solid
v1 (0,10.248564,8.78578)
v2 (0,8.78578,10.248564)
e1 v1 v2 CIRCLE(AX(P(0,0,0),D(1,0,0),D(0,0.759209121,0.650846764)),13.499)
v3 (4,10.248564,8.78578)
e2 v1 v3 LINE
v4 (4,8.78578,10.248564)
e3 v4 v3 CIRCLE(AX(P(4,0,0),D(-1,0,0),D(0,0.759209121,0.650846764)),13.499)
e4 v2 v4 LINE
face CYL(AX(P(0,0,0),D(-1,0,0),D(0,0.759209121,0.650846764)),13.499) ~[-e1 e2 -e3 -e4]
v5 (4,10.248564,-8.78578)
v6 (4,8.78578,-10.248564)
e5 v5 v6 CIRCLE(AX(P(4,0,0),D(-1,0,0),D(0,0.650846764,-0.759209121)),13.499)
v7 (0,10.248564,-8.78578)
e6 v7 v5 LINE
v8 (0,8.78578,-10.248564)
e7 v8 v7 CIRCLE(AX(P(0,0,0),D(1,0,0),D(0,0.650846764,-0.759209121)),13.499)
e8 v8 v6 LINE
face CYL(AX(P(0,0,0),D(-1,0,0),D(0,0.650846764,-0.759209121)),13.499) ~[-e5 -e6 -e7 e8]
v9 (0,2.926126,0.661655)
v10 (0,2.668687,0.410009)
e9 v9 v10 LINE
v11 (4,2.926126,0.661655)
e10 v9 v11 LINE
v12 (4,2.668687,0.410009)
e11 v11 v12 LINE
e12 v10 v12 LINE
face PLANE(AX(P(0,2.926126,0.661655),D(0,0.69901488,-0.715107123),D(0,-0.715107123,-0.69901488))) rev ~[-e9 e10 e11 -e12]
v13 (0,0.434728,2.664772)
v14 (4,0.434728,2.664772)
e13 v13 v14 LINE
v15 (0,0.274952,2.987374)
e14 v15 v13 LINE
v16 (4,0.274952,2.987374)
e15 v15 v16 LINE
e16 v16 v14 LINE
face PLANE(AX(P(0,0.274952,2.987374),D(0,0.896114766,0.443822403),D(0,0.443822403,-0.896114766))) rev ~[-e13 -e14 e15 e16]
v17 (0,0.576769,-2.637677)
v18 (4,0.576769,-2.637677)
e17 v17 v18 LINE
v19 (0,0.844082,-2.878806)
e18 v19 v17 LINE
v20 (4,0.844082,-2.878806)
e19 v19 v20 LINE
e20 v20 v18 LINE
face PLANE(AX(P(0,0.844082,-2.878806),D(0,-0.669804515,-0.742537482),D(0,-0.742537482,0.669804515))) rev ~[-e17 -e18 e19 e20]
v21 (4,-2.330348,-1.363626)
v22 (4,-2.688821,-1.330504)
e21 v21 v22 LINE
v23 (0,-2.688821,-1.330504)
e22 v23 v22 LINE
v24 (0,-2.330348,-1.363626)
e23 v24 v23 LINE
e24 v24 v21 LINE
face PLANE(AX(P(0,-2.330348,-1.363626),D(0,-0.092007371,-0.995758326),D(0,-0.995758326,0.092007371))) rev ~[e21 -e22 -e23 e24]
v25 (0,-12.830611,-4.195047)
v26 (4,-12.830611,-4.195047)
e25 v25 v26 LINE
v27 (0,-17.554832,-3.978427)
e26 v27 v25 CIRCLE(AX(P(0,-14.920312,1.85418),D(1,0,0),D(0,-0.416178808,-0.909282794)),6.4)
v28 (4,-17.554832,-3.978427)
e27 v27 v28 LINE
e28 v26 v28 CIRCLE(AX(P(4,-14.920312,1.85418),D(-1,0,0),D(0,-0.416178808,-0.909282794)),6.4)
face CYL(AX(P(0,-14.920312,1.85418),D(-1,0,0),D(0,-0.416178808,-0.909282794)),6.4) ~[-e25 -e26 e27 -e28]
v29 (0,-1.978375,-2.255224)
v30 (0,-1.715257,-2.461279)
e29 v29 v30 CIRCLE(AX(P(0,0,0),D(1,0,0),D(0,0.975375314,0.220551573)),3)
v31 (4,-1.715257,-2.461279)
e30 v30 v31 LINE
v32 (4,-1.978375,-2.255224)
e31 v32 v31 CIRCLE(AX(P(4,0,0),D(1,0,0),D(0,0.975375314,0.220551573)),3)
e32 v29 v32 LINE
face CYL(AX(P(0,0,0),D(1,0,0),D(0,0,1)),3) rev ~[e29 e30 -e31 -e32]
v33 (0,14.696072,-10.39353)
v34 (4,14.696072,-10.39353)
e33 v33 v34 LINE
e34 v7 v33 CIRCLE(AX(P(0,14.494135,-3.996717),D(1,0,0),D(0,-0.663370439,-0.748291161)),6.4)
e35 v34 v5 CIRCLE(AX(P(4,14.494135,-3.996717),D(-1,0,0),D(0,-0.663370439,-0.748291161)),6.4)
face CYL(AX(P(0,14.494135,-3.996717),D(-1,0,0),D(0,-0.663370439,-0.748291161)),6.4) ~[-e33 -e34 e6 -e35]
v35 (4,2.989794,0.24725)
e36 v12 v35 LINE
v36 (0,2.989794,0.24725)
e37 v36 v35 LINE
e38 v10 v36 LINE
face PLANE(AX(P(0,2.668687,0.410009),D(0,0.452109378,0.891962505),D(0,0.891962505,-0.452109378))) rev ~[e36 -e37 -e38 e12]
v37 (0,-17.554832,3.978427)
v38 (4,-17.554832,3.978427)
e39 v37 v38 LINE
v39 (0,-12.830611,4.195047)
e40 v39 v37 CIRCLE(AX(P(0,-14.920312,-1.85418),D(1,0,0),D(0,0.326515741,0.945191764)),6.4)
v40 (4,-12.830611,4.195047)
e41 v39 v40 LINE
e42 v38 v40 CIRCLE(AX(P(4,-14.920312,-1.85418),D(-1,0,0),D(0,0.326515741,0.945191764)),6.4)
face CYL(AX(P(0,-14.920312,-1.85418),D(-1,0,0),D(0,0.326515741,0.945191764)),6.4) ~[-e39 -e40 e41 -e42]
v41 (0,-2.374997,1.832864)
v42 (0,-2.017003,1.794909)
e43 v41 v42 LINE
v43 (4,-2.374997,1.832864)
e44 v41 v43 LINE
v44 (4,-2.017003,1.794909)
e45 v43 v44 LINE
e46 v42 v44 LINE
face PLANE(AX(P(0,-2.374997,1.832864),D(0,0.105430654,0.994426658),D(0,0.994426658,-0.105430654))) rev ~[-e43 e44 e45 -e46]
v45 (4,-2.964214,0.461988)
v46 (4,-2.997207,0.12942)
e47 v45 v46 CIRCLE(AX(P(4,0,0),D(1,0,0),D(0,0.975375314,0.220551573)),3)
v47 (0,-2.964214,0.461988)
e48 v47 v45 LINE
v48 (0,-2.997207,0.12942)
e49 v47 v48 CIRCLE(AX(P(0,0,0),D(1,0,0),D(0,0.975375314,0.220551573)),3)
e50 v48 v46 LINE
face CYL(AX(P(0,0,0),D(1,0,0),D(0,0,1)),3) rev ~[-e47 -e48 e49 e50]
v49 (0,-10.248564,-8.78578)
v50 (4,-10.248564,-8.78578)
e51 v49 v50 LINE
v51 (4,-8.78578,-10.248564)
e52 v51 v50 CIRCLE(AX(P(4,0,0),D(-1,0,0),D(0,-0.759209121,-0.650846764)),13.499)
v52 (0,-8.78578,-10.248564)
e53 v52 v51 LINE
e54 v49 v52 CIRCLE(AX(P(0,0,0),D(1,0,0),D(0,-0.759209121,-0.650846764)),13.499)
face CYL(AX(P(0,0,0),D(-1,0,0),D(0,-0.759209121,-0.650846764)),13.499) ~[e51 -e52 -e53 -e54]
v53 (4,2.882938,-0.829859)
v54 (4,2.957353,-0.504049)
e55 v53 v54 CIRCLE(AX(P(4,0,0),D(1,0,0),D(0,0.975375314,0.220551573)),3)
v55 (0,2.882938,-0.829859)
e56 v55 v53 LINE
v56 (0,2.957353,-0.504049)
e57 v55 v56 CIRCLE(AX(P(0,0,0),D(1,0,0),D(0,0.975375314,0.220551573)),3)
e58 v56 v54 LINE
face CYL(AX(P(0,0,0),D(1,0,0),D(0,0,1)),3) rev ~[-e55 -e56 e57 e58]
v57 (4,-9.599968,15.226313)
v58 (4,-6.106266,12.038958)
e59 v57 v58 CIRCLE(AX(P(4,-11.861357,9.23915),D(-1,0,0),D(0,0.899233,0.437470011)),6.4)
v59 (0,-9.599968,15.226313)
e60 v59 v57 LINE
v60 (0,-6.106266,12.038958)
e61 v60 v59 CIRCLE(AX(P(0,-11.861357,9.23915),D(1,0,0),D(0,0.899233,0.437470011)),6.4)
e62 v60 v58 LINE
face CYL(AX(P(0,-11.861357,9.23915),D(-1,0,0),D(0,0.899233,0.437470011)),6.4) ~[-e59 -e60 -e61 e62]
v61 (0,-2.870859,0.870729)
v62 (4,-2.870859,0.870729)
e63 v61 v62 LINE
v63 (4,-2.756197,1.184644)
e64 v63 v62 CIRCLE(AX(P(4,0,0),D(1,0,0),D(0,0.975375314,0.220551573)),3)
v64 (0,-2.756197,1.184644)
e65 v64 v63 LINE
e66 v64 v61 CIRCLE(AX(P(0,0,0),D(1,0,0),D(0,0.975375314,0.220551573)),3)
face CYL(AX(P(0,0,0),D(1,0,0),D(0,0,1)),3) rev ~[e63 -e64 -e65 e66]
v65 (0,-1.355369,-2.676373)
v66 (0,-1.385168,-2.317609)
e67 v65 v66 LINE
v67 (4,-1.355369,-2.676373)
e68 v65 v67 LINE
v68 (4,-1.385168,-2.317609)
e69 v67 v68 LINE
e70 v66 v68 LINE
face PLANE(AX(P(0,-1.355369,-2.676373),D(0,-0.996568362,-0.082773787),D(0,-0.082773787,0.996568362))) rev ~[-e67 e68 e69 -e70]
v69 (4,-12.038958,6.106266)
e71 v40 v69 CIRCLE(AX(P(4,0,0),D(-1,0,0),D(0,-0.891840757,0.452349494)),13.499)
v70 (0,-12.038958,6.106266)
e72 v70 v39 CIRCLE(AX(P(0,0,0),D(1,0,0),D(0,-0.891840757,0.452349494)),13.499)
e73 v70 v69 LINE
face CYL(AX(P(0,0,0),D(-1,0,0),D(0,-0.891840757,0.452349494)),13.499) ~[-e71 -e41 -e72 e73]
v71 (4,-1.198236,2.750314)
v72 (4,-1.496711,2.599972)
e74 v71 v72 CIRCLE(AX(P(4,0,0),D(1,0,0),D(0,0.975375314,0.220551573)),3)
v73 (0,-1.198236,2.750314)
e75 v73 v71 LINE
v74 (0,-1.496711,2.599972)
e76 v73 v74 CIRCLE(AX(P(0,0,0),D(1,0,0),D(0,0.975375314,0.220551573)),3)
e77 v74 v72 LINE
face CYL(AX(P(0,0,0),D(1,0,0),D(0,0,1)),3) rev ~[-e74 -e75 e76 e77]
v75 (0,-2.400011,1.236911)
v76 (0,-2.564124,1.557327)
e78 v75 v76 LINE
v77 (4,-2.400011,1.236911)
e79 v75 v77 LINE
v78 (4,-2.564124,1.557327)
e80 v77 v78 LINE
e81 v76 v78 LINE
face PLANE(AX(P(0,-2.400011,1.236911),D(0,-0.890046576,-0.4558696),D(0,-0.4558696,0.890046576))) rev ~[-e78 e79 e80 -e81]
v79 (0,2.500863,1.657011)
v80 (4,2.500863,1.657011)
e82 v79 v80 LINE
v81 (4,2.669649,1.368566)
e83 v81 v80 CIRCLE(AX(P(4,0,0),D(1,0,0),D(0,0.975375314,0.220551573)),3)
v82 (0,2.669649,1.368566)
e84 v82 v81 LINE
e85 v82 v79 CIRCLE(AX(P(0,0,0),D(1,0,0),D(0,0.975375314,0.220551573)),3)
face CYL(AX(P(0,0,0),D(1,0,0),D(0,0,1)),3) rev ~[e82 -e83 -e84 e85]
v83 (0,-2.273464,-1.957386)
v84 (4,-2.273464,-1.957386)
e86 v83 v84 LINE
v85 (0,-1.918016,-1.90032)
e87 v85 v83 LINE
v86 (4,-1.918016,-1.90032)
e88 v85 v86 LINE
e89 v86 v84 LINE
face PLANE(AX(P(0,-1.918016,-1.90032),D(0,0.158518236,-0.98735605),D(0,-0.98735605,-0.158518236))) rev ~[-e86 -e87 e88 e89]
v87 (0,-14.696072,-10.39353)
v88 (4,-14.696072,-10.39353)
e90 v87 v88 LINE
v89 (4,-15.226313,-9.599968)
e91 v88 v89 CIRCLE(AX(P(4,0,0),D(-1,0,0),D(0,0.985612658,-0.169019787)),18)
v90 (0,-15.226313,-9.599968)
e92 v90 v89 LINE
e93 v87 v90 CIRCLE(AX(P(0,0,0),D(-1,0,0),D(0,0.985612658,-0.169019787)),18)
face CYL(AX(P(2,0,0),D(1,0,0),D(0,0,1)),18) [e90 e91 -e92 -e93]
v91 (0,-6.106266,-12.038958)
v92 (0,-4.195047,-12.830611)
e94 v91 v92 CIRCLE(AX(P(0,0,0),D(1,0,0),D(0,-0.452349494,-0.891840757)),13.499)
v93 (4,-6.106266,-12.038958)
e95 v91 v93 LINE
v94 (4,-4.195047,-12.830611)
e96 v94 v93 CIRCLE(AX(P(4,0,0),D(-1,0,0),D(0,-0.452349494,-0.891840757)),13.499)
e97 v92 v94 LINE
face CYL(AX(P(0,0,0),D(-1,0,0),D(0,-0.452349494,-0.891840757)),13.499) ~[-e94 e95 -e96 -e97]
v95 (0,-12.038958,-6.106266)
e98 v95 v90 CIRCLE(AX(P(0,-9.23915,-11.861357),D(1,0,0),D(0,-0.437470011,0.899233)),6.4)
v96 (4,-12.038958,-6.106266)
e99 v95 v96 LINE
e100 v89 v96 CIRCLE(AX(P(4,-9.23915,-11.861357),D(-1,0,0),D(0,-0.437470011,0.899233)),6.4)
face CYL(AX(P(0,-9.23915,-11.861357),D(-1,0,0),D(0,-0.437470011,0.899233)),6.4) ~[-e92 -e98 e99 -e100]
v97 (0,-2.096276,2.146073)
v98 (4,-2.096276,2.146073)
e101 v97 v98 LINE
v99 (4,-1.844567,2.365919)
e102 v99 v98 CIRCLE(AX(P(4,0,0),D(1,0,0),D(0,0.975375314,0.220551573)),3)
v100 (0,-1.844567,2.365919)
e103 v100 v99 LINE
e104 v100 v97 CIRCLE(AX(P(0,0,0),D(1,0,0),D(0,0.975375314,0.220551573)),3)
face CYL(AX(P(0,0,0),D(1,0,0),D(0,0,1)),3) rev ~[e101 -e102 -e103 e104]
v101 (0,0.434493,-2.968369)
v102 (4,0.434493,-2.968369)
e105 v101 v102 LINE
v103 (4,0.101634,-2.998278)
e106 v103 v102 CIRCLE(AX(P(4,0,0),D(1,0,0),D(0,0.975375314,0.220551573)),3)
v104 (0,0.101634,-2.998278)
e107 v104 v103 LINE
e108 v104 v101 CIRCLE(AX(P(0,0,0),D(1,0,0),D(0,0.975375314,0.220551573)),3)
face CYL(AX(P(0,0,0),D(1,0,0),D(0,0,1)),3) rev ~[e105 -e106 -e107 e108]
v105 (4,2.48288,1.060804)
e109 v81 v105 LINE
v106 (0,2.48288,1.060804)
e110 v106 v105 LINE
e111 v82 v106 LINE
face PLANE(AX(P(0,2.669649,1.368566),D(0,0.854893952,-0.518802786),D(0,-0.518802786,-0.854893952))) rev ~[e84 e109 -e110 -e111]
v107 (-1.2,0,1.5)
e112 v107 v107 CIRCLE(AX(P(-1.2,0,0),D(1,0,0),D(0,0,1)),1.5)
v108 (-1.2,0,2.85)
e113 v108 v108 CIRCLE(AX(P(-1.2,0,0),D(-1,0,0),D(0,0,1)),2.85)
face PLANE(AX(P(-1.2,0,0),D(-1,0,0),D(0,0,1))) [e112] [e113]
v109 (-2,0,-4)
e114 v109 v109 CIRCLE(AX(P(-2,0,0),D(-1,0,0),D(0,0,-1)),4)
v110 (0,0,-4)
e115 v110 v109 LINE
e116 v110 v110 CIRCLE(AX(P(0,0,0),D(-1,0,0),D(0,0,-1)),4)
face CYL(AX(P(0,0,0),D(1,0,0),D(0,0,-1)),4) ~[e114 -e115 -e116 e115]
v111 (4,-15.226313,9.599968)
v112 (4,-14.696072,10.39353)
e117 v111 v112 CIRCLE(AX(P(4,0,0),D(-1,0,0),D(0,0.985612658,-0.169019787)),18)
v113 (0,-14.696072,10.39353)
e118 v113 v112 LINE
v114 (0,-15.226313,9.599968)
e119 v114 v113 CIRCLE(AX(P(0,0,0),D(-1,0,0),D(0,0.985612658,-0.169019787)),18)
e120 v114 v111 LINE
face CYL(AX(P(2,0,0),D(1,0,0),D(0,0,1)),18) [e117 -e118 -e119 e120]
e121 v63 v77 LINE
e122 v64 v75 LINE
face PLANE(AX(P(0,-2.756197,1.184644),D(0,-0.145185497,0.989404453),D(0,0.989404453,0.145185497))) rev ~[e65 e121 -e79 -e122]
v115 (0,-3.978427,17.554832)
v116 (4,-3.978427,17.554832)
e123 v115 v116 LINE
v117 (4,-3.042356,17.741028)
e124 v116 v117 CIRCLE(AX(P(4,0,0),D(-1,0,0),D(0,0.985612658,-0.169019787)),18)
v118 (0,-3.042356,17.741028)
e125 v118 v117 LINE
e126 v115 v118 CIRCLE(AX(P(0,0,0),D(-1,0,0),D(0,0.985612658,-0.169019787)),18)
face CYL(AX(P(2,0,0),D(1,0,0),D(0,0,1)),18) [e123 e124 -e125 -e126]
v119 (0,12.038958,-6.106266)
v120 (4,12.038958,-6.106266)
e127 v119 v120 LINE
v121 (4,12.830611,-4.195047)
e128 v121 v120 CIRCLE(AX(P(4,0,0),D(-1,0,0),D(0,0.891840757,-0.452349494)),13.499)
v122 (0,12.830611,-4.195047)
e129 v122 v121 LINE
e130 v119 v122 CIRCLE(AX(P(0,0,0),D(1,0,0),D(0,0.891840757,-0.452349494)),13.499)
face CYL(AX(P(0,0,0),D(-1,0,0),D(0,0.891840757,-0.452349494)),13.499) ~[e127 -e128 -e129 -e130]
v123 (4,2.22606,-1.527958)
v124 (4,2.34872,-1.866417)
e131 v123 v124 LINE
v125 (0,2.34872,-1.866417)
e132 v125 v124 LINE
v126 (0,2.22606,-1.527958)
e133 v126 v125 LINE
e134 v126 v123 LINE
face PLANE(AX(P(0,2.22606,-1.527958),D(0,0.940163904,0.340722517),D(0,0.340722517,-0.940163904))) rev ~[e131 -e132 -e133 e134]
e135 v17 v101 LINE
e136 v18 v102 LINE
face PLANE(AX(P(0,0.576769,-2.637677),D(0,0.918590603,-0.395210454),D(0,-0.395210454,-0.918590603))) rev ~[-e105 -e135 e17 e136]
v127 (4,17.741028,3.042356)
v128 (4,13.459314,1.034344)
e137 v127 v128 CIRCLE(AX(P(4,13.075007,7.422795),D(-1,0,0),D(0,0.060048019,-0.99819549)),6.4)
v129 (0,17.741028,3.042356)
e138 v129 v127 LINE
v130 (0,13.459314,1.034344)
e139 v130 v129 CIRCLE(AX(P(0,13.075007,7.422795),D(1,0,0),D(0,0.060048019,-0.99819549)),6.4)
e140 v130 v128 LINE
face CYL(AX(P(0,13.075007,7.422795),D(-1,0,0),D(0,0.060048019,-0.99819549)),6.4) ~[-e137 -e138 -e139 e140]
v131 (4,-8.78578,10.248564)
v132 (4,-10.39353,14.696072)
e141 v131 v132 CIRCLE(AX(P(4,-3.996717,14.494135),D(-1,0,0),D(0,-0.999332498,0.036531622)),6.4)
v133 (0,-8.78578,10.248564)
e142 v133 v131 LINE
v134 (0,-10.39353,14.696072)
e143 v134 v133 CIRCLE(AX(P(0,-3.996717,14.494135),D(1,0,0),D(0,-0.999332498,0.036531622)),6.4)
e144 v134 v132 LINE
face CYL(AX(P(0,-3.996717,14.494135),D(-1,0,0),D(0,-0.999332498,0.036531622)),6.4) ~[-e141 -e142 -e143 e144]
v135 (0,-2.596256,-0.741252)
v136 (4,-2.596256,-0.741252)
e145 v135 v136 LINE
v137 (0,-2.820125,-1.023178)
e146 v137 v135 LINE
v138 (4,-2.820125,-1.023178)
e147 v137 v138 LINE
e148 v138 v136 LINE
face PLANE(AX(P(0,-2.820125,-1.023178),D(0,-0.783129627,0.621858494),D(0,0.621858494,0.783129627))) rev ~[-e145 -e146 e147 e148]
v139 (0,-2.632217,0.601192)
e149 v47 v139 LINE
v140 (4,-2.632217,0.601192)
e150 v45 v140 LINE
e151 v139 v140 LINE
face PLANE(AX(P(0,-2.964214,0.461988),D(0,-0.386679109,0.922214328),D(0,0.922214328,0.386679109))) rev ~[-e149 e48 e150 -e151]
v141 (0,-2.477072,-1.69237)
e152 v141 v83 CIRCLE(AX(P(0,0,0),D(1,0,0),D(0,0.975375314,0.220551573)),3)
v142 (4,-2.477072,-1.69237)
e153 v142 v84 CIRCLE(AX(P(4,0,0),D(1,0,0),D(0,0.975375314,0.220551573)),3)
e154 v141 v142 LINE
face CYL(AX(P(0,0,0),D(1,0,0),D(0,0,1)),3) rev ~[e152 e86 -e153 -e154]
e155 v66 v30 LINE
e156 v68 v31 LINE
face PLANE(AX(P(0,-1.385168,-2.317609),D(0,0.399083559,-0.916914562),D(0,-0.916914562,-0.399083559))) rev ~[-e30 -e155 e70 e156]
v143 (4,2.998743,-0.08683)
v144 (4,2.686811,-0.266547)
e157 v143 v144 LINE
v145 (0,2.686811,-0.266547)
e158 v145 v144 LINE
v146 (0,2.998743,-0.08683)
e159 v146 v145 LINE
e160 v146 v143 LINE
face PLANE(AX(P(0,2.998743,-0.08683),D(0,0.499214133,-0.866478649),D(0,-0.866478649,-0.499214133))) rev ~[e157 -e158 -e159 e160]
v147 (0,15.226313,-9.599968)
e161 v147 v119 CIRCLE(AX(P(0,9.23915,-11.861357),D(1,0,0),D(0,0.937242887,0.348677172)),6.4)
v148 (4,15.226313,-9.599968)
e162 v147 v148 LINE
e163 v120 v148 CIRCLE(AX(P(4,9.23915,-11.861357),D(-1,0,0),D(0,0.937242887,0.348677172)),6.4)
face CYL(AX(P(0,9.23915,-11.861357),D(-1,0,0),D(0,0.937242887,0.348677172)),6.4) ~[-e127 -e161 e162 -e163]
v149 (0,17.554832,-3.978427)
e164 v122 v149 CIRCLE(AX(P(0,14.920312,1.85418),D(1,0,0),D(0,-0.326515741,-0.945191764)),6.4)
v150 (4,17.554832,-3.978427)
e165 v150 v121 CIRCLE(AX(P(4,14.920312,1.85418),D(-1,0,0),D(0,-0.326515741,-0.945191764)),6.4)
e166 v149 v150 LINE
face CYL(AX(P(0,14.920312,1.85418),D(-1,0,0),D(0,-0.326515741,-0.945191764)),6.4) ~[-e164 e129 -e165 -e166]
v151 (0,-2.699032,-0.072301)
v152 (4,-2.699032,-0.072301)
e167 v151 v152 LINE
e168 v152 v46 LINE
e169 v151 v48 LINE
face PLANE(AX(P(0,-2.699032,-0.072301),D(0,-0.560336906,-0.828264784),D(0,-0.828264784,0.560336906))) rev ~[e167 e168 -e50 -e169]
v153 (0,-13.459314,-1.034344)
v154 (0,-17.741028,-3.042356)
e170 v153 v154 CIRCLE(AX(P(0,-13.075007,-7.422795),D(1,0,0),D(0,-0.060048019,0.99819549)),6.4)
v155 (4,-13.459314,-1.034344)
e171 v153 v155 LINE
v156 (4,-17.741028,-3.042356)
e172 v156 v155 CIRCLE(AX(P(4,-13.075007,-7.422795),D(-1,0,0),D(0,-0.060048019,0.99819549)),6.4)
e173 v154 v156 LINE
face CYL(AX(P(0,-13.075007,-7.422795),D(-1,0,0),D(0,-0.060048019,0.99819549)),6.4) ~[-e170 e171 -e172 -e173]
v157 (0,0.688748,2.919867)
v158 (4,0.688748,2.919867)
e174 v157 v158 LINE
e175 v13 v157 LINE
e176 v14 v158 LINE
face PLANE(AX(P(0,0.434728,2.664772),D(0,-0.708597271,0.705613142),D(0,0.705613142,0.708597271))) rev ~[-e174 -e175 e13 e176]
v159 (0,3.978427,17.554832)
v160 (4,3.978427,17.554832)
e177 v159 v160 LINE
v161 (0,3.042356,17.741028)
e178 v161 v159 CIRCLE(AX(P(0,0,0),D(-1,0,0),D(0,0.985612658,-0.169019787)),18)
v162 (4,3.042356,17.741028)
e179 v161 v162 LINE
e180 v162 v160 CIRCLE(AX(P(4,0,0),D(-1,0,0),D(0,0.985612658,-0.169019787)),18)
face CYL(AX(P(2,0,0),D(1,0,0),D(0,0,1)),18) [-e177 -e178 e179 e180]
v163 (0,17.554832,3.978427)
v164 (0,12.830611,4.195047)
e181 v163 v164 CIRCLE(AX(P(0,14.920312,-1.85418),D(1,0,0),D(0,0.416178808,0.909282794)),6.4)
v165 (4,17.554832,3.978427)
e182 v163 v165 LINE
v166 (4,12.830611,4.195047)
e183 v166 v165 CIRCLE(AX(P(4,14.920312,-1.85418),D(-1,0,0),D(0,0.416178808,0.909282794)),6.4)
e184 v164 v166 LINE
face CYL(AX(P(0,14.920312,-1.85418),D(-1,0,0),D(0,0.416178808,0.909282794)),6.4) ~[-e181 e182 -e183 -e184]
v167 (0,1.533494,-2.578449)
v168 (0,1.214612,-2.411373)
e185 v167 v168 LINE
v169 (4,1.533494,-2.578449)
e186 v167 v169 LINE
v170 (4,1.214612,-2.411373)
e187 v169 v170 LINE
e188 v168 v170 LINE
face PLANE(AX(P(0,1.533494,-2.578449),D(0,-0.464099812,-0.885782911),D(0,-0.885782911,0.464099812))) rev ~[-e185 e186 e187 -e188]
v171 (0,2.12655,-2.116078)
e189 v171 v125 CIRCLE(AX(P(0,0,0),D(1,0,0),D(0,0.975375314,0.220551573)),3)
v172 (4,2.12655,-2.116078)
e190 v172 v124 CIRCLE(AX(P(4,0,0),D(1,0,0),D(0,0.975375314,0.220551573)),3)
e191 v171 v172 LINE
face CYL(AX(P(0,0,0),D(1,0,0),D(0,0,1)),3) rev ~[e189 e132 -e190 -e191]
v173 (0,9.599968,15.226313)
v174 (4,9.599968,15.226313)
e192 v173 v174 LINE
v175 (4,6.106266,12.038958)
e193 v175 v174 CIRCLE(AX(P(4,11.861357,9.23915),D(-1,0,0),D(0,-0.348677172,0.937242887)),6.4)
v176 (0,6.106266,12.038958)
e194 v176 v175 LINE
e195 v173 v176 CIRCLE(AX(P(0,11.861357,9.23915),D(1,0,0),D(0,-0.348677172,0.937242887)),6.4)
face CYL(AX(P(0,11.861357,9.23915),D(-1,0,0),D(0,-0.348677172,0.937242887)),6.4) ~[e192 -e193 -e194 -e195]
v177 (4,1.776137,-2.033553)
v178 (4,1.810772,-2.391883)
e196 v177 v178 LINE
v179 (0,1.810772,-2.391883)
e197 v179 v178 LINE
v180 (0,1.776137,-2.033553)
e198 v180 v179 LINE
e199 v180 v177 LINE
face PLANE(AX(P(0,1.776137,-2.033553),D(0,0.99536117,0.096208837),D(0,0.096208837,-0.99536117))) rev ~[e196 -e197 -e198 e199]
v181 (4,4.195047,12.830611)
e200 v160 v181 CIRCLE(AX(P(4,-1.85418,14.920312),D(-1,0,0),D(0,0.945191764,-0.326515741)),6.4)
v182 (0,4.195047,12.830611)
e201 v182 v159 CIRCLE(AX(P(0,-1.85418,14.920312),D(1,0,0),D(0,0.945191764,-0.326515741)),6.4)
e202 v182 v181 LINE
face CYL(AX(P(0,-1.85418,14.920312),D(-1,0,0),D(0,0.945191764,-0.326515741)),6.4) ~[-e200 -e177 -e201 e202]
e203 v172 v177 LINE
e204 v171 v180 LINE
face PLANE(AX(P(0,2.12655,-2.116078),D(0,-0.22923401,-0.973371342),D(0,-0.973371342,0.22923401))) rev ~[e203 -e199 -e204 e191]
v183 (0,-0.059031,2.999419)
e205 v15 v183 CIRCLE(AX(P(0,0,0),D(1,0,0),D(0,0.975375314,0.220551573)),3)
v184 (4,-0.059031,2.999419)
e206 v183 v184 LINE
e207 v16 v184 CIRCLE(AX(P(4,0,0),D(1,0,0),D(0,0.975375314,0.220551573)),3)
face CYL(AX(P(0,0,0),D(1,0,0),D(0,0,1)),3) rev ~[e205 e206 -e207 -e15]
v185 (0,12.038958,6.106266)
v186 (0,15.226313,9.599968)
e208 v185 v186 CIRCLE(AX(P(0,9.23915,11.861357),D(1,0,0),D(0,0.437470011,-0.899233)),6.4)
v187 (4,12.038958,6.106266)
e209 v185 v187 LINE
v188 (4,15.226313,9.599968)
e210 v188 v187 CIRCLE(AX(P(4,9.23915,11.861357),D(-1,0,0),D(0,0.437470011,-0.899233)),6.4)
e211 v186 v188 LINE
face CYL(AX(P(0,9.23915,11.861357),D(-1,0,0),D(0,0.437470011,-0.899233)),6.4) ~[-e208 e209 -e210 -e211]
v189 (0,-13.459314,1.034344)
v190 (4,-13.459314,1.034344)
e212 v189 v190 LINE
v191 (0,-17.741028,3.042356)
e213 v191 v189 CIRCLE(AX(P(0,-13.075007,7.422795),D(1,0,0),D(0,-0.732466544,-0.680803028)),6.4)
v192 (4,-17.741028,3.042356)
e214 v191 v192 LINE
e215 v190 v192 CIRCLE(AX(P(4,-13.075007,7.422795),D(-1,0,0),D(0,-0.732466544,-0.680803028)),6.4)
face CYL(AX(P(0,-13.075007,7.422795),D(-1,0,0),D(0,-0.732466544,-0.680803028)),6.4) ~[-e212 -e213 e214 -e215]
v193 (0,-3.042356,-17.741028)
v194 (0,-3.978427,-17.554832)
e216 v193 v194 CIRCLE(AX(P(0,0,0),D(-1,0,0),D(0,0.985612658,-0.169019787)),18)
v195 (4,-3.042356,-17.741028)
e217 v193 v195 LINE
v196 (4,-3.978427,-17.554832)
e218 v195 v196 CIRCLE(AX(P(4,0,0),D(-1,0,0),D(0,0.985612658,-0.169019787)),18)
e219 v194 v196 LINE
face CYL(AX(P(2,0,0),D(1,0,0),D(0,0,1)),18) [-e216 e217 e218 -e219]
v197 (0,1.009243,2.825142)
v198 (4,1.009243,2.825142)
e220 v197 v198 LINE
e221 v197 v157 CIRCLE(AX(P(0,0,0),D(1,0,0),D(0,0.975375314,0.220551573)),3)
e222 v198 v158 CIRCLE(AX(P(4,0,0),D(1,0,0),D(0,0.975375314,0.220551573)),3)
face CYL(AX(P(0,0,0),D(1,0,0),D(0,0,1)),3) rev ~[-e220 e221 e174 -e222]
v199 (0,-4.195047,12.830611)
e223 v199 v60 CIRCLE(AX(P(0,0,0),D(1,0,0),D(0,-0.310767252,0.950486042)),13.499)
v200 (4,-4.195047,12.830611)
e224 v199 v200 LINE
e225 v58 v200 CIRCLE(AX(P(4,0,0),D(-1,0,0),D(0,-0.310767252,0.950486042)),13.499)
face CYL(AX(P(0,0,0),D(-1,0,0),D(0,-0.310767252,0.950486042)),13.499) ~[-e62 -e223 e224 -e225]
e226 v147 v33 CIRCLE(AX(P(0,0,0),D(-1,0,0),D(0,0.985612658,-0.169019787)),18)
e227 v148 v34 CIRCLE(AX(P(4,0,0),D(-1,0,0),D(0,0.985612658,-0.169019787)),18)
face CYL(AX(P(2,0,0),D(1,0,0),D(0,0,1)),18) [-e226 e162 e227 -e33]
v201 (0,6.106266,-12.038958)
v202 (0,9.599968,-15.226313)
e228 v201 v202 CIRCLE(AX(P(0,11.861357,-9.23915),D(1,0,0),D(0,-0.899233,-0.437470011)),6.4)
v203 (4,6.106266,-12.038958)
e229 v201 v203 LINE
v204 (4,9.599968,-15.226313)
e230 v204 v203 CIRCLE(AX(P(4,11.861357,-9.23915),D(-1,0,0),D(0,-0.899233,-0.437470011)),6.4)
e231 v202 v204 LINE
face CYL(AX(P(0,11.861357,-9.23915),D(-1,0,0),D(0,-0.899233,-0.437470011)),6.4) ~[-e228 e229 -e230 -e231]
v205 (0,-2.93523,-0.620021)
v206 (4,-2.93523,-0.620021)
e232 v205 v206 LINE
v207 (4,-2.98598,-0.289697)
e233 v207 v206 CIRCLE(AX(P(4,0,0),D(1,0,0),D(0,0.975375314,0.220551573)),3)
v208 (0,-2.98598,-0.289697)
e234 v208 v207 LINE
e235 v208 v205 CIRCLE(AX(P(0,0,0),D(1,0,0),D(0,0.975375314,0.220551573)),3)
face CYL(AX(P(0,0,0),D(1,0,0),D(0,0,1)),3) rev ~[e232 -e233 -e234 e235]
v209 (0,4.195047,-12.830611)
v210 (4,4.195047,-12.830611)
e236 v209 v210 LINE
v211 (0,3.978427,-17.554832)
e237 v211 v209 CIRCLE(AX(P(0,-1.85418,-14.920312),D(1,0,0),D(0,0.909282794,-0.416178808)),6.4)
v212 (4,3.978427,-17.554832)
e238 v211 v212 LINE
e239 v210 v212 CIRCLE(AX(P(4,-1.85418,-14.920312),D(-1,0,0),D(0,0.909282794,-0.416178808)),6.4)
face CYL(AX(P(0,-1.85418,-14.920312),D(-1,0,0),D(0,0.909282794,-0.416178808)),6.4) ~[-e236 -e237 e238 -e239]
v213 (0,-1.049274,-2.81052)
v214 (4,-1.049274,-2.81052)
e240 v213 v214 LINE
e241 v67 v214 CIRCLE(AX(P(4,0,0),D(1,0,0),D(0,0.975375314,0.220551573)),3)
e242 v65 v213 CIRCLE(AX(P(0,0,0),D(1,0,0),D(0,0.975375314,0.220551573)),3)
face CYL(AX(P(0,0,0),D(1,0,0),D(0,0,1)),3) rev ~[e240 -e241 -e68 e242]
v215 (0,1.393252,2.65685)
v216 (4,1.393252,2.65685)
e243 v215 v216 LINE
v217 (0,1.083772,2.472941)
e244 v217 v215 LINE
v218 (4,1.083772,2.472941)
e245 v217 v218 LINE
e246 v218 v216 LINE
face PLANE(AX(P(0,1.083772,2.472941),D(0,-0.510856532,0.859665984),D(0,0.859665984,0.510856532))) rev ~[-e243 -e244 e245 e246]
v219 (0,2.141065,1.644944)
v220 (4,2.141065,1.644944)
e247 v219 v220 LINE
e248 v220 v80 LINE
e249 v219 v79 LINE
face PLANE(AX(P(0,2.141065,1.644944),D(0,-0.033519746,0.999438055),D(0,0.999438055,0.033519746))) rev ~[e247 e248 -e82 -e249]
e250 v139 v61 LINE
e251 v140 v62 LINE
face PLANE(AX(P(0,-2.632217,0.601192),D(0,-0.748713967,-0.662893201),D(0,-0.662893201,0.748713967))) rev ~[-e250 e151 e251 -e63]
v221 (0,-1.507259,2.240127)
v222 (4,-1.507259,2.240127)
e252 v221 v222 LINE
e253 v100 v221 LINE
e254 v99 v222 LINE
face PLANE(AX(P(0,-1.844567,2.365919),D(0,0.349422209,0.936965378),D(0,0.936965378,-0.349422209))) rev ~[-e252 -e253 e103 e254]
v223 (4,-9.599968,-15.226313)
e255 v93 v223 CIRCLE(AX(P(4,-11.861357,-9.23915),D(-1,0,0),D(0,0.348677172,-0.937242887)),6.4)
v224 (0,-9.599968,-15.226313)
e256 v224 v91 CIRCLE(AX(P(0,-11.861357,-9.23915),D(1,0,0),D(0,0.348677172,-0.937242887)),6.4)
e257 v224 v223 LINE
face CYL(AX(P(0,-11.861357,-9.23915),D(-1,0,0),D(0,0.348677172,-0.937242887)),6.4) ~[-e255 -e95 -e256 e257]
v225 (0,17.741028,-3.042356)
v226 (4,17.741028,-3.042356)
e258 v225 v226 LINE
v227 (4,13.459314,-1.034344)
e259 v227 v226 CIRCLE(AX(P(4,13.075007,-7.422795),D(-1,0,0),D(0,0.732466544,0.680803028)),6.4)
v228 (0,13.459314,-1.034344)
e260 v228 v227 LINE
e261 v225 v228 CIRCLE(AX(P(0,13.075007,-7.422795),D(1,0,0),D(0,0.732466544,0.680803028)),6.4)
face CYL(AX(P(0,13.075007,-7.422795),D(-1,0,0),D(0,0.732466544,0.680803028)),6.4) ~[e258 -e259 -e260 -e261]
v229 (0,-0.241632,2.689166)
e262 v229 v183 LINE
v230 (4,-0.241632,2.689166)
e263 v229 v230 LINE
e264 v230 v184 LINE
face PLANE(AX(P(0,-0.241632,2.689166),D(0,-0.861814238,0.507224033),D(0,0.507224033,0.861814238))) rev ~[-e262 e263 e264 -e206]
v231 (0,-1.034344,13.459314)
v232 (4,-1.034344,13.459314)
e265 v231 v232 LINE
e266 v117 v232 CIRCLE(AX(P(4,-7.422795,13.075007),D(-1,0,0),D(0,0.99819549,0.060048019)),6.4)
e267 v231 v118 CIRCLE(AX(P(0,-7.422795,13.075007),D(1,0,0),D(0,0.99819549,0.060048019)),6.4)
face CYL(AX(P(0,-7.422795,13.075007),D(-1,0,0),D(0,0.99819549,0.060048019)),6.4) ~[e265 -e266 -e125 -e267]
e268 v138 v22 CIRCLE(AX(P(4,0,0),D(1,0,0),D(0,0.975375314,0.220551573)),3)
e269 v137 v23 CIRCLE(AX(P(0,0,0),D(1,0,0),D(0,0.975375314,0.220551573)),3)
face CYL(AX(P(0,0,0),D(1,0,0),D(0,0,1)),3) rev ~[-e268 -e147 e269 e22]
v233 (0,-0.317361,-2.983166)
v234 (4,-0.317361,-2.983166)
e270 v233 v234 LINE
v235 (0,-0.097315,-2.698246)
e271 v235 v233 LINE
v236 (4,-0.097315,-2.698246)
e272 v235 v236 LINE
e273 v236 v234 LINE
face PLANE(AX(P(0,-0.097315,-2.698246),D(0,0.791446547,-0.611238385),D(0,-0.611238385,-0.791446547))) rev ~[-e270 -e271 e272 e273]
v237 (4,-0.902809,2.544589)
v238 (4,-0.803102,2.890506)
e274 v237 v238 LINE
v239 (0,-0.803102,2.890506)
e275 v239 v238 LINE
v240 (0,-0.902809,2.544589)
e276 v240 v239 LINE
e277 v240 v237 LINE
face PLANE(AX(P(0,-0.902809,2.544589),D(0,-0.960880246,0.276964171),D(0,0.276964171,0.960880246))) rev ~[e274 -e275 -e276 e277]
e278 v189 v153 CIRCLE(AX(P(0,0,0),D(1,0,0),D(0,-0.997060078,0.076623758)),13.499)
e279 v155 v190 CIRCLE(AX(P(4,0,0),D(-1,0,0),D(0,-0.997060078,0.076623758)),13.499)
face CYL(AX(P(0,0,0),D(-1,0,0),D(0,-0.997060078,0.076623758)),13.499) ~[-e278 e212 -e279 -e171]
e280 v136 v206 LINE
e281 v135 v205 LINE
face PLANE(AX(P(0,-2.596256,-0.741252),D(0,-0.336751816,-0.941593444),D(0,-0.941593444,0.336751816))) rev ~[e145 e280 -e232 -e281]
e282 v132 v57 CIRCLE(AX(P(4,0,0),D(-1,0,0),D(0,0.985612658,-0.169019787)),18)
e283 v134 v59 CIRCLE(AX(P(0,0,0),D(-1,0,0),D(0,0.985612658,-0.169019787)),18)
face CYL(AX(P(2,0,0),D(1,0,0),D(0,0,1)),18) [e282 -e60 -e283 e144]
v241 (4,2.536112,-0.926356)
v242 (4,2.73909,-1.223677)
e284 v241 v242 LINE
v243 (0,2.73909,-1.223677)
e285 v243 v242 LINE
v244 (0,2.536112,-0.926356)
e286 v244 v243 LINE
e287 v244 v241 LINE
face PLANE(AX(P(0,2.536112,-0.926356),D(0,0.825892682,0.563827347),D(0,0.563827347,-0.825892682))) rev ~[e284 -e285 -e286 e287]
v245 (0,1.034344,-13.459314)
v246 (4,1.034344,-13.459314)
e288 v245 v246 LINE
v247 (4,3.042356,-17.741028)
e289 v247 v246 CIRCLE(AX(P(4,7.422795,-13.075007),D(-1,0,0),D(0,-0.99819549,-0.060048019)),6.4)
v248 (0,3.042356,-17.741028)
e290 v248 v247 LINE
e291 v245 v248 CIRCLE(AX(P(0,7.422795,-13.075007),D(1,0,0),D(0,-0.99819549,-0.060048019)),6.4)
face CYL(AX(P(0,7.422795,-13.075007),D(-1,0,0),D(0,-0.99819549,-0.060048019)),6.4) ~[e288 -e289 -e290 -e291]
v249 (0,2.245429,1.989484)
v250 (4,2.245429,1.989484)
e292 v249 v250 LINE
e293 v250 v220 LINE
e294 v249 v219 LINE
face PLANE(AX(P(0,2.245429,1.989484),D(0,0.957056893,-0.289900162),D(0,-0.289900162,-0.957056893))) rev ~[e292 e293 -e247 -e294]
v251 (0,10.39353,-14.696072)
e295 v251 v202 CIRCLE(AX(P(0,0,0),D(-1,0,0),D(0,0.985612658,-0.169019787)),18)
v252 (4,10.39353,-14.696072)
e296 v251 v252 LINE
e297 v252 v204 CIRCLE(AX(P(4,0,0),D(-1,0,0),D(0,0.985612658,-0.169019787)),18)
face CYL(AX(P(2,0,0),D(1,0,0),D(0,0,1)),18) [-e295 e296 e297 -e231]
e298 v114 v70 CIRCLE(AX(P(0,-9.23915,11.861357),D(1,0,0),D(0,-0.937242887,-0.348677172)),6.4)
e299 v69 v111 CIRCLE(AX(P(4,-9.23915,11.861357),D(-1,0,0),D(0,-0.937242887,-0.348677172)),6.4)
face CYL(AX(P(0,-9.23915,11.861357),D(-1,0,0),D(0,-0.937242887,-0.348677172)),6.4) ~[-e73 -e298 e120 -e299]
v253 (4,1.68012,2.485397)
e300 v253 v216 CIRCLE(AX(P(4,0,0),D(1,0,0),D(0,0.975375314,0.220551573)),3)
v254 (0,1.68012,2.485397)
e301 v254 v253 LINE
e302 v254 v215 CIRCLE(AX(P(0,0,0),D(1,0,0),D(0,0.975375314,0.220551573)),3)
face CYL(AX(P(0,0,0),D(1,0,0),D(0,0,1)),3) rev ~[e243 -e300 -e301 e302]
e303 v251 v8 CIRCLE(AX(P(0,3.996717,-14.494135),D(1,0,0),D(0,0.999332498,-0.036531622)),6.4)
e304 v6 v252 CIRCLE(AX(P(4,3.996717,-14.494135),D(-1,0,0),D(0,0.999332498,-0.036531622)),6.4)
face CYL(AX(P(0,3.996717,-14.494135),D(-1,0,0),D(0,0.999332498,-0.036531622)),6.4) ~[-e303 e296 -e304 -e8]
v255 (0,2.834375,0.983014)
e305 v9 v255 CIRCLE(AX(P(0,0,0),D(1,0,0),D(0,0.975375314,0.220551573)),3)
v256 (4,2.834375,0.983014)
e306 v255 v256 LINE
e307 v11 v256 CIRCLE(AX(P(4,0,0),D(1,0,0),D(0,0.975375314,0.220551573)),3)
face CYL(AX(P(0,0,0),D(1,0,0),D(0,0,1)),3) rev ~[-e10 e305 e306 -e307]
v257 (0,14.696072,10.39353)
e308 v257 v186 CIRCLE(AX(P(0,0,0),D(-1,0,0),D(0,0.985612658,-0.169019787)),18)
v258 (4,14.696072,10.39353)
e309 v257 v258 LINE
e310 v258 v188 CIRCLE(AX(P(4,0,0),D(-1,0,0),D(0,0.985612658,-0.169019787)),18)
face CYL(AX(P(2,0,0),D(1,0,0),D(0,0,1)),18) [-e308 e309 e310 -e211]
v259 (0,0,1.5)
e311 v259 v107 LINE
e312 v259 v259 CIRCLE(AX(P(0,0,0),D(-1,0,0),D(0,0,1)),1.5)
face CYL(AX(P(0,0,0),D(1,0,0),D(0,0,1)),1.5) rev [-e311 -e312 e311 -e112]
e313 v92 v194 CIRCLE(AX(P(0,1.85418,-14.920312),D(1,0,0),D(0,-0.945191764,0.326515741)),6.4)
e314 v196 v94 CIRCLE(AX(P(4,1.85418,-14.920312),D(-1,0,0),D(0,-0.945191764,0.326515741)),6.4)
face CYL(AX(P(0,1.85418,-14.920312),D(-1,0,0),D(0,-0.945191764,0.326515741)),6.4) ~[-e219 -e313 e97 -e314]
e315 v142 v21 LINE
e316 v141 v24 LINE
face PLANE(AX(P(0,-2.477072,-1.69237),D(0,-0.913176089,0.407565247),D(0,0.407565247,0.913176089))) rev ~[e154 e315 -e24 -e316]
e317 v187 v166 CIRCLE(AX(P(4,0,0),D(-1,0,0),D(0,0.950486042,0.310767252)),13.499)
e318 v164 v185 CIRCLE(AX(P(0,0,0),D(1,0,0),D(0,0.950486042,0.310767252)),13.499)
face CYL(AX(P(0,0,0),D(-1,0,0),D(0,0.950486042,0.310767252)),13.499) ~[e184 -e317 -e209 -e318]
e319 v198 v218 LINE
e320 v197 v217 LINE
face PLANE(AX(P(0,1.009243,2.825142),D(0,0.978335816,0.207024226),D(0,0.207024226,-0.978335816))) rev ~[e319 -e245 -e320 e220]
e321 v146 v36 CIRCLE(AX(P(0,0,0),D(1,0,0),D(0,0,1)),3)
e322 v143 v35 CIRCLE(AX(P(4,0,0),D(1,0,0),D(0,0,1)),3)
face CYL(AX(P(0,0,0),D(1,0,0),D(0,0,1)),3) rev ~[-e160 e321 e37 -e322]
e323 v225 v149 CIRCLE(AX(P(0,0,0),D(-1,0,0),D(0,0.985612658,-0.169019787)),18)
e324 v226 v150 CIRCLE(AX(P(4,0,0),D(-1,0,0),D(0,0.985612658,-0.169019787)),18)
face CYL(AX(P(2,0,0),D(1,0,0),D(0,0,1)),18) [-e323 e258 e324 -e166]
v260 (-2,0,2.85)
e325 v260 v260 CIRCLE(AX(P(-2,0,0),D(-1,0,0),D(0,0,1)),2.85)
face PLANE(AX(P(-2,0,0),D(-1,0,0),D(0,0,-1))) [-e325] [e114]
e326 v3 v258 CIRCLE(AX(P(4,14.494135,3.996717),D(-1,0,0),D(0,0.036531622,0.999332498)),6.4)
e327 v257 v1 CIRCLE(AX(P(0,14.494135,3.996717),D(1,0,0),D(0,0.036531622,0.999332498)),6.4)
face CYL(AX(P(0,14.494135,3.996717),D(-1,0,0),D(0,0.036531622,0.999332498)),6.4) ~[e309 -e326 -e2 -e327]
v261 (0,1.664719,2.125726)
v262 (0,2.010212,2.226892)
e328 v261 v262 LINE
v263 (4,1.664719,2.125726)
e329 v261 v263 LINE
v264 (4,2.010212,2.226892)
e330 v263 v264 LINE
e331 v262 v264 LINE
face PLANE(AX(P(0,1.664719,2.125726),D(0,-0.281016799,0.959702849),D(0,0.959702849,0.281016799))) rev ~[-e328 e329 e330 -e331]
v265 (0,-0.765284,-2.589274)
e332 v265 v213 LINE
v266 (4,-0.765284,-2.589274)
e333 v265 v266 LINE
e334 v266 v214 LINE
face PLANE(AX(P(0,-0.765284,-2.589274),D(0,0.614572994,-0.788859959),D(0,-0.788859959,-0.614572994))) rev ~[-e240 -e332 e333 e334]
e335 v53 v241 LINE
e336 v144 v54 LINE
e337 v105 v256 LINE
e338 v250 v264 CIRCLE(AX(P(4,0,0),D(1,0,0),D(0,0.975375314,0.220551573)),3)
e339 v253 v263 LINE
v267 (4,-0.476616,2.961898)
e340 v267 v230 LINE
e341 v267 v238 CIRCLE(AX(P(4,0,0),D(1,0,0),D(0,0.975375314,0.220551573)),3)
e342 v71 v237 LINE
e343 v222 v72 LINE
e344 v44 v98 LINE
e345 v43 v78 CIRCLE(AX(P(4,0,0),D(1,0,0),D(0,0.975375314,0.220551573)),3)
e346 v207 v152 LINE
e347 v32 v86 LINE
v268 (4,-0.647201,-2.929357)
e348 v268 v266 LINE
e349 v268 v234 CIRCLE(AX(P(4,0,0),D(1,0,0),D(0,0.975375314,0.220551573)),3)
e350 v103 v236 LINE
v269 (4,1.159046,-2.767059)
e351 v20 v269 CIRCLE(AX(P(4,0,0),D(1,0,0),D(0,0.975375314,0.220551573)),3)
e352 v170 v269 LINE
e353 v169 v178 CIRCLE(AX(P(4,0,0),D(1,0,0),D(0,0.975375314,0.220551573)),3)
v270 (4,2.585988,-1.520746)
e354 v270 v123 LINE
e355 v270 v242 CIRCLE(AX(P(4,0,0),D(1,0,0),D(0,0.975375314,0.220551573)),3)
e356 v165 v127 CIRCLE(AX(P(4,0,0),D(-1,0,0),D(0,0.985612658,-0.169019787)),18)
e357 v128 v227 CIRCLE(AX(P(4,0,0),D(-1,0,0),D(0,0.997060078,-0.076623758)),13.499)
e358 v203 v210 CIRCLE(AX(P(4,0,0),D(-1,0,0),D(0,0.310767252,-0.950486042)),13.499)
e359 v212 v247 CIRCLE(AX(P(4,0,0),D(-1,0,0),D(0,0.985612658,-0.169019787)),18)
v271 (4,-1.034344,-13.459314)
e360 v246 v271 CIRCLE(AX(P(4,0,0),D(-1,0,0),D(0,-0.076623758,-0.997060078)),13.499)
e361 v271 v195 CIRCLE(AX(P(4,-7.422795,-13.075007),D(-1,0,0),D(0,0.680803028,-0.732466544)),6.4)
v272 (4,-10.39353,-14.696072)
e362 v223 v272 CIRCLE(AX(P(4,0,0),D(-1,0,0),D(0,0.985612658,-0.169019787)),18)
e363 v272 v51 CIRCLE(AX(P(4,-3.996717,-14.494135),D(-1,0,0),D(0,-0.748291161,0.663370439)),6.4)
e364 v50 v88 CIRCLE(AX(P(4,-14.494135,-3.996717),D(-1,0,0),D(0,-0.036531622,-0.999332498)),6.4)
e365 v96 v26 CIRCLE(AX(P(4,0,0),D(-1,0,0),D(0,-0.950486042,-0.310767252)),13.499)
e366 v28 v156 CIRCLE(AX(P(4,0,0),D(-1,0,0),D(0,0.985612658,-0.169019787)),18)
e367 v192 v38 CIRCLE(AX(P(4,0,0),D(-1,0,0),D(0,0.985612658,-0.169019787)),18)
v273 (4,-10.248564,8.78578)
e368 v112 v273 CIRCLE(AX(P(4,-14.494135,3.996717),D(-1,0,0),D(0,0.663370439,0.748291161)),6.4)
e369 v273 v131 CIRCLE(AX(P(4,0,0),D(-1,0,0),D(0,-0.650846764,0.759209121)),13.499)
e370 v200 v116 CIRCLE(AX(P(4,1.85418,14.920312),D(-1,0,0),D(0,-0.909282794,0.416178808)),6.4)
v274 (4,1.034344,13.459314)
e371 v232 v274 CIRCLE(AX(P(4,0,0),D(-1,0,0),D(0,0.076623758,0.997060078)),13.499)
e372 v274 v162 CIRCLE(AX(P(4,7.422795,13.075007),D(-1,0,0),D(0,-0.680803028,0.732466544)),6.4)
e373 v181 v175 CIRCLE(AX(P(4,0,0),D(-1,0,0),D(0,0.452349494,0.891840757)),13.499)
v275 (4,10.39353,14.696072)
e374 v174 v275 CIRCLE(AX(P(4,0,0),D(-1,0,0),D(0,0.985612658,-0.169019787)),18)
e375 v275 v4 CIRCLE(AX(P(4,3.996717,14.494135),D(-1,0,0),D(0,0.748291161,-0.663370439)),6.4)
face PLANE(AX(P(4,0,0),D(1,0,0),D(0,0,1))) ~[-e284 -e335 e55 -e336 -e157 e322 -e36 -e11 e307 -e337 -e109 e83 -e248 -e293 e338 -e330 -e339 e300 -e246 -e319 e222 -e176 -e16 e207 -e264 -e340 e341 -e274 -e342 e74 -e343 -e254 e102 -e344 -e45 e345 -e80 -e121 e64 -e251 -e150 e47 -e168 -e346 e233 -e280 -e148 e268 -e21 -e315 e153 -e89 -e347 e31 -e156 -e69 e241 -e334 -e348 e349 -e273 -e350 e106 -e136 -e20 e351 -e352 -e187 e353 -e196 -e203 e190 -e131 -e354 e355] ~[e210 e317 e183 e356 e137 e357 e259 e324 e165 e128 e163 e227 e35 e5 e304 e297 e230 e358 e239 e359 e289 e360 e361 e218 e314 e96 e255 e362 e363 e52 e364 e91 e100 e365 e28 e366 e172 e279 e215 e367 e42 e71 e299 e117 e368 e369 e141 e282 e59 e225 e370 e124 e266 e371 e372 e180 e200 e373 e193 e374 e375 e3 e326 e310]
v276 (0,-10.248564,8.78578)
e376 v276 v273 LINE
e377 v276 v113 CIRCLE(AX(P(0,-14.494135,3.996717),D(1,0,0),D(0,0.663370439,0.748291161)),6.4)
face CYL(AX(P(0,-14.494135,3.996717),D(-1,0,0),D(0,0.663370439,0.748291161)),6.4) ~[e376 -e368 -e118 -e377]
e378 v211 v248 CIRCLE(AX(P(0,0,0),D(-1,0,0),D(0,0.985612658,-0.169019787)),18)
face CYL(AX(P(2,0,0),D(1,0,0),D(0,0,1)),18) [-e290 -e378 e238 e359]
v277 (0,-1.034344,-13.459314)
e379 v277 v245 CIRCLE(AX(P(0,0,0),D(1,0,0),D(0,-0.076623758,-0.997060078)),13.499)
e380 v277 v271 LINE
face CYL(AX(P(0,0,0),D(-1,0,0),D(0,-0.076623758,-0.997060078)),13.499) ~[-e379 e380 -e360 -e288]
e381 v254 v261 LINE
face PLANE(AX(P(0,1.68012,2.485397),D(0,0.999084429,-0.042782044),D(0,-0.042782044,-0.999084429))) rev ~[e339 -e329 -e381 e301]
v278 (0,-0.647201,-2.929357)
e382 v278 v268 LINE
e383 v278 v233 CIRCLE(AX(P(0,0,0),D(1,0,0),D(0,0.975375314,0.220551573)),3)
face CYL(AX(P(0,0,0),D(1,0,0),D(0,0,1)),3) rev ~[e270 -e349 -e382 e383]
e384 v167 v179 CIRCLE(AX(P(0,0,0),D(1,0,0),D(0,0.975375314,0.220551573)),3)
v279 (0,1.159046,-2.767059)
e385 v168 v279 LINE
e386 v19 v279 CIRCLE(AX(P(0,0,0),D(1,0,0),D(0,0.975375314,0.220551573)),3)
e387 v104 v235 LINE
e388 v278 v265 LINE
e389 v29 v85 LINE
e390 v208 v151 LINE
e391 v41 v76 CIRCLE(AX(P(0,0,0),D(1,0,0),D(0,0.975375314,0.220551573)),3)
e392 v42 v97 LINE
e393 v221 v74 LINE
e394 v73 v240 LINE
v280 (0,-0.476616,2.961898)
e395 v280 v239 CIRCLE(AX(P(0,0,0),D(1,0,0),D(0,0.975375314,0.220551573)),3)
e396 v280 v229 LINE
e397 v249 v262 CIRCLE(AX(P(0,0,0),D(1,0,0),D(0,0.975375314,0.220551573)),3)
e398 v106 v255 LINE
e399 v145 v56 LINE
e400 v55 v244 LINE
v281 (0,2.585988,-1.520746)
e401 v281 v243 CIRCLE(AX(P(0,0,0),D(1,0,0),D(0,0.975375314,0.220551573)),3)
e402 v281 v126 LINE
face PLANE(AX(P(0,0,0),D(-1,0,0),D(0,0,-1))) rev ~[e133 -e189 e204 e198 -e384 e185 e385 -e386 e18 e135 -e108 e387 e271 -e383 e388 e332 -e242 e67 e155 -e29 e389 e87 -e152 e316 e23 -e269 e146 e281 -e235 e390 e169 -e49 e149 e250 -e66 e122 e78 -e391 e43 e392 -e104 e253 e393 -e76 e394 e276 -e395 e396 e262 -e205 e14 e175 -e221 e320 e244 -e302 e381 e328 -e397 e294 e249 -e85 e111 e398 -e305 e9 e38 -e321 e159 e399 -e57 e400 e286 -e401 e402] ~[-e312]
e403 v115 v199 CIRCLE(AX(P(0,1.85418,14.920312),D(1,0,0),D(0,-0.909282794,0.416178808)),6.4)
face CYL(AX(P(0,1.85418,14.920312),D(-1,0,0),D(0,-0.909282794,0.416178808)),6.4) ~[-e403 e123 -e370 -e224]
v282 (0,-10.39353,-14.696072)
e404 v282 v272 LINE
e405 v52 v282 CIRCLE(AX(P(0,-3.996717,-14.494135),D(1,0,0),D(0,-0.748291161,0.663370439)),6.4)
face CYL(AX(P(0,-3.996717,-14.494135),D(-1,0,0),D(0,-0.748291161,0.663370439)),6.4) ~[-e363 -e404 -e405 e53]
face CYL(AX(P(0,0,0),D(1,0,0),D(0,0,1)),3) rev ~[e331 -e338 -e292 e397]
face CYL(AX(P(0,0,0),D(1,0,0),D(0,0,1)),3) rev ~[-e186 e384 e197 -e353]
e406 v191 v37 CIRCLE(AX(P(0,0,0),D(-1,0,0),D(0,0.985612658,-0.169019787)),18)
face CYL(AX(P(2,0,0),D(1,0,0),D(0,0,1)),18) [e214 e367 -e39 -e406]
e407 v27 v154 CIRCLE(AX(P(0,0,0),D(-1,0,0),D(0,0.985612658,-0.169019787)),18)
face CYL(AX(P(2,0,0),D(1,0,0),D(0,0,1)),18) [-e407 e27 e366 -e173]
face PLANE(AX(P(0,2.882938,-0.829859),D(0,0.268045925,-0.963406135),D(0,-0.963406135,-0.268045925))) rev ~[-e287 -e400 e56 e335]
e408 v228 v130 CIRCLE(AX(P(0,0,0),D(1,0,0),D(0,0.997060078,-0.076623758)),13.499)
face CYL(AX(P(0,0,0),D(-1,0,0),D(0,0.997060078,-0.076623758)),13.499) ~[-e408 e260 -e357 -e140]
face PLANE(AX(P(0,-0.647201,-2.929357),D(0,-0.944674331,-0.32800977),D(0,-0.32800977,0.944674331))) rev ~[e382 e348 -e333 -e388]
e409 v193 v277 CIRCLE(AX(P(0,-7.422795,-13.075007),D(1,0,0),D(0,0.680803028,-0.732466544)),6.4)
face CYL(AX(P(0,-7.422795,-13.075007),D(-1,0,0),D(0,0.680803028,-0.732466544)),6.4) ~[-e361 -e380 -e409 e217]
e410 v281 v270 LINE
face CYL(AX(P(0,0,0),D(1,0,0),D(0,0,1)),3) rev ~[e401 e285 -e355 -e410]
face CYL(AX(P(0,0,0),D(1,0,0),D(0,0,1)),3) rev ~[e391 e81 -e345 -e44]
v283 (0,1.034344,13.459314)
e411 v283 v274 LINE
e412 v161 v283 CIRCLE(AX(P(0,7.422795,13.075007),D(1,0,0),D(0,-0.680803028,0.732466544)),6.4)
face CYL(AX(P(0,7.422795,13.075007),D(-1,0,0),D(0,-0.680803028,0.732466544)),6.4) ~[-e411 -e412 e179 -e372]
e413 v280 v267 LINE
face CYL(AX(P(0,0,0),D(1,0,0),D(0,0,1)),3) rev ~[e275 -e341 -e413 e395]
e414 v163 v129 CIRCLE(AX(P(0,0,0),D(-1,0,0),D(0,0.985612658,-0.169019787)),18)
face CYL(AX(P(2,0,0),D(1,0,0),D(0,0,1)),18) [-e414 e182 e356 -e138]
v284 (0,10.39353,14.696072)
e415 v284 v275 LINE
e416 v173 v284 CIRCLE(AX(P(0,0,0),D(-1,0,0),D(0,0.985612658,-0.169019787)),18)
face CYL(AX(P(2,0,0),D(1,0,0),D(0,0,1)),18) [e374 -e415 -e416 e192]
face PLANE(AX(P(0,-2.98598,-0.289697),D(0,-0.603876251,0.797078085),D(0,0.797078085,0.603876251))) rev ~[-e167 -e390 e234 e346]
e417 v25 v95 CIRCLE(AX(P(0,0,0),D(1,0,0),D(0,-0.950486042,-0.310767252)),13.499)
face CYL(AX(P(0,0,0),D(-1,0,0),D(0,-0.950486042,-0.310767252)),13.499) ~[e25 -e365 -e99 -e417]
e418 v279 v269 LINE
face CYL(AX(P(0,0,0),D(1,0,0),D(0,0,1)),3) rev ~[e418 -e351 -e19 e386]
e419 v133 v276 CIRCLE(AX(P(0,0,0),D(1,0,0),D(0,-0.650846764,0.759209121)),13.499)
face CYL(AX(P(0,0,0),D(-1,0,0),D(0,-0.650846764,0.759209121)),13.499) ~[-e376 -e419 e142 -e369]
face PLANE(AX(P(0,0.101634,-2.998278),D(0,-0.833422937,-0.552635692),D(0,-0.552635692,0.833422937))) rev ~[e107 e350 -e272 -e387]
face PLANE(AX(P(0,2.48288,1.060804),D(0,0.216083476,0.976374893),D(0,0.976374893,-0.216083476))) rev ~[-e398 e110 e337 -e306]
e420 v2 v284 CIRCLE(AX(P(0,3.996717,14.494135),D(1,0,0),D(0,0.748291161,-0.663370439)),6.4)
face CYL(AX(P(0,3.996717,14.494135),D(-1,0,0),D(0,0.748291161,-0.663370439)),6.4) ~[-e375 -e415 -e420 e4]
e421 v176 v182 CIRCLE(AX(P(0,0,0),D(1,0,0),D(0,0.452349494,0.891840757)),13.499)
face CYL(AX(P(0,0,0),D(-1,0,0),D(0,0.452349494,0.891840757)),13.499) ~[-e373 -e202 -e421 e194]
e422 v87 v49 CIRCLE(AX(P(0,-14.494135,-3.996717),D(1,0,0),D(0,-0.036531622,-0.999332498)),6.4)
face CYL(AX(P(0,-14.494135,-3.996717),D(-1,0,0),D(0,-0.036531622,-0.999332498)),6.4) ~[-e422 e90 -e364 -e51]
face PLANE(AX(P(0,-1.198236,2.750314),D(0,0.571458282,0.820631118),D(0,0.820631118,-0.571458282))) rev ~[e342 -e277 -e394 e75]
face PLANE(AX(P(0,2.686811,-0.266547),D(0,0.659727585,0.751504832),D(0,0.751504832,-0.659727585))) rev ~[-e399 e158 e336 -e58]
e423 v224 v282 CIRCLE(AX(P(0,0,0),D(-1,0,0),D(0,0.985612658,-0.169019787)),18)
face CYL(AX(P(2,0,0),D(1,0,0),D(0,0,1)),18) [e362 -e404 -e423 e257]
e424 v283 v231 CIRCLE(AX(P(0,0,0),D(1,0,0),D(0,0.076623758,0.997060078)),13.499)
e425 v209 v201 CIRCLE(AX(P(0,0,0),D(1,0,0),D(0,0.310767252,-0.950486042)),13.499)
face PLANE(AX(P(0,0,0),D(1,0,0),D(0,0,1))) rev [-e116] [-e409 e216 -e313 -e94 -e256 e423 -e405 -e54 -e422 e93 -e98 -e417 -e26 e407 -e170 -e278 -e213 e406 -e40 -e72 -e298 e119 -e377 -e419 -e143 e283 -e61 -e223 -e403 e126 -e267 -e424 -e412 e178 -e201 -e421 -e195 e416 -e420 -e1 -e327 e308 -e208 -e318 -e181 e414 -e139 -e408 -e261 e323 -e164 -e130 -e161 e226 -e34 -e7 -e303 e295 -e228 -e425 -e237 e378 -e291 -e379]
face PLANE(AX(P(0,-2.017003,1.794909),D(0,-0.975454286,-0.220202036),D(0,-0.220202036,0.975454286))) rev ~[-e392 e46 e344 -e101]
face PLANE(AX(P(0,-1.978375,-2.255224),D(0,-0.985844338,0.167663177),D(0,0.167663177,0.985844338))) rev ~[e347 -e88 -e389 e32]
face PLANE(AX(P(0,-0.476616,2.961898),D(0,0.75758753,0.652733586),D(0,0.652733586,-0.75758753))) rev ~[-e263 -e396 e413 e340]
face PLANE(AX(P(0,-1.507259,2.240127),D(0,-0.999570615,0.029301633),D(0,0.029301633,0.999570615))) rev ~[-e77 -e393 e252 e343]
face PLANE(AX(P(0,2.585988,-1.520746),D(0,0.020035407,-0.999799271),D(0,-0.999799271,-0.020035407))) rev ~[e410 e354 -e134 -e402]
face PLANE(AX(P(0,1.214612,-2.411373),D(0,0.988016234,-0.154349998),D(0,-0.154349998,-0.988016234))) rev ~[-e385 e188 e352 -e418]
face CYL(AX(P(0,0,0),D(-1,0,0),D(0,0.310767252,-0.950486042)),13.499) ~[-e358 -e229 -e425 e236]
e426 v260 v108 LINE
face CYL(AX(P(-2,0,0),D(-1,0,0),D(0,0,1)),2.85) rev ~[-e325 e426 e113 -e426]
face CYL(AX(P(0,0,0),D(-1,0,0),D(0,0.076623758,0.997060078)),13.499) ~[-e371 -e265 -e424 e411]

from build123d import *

# Parameters (mm, degrees)
BASPROSKE_W             = 4
BASPROSKE_H             = 18
TOOTHCUT_DEPTH          = 26.768197453
TEETHCUTS_COUNT         = 16
TEETHCUTS_ANGLE         = 337.5
BORSKE_R                = 3
BORE_DEPTH              = 50.0000508
SALIENTE_EXTRUIR2_DEPTH = 4
MATRIZC1_COUNT          = 25
CROQUIS5_R              = 4
CROQUIS5_R_2            = 1.5
SALIENTE_EXTRUIR3_DEPTH = 2
CROQUIS6_R              = 2.85
CORTAR_EXTRUIR4_DEPTH   = 0.8


with BuildPart() as part:
    # BasProSke → Base-Revolve (revolve)
    with BuildSketch(Plane(origin=(0, 0, 0), x_dir=(1, 0, 0), z_dir=(0, 1, 0)), mode=Mode.PRIVATE) as base_revolve_sk:
        with Locations((2, 9)):
            Rectangle(BASPROSKE_W, BASPROSKE_H)
    revolve(base_revolve_sk.sketch.rotate(Axis((-10, 0, 0), (1, 0, 0)), 180), axis=Axis((-10, 0, 0), (1, 0, 0)))

    # TooCutSke → ToothCut (cut, through all)
    with BuildSketch(Plane(origin=(0, 0, 0), x_dir=(0, 0, -1), z_dir=(1, 0, 0))):
        with BuildLine():
            ThreePointArc((1.03434411, 13.459313997), (0, 13.499), (-1.03434411, 13.459313997))
            ThreePointArc((-1.03434411, 13.459313997), (-1.635143665, 15.806872195), (-3.065655864, 17.762792553))
            ThreePointArc((-3.065655864, 17.762792553), (0, 18.0254), (3.065655864, 17.762792553))
            ThreePointArc((3.065655864, 17.762792553), (1.635143665, 15.806872195), (1.03434411, 13.459313997))
        make_face()
    toothcut = extrude(amount=TOOTHCUT_DEPTH, mode=Mode.SUBTRACT)

    # TeethCuts: ToothCut ×16 about axis
    teethcuts_axis = Axis((-10, 0, 0), (1, 0, 0))
    for i in range(1, TEETHCUTS_COUNT):
        add(toothcut.rotate(teethcuts_axis, i * TEETHCUTS_ANGLE / (TEETHCUTS_COUNT - 1)), mode=Mode.SUBTRACT)

    # BorSke → Bore (cut, symmetric)
    with BuildSketch(Plane(origin=(0, 0, 0), x_dir=(0, 0, -1), z_dir=(1, 0, 0))):
        with Locations(Location((0, 0, 0), (0, 0, 180))):
            Circle(BORSKE_R)
    extrude(amount=BORE_DEPTH, both=True, mode=Mode.SUBTRACT)

    # Croquis4 → Saliente-Extruir2 (add, through all)
    with BuildSketch(Plane.ZY):
        with BuildLine():
            Line((-0.266547398, 2.686810839), (-0.504049329, 2.957352579))
            ThreePointArc((-0.504049329, 2.957352579), (-0.296163775, 2.985345377), (-0.08683031, 2.998743153))
            Line((-0.08683031, 2.998743153), (-0.266547398, 2.686810839))
        make_face()
    saliente_extruir2 = extrude(amount=-SALIENTE_EXTRUIR2_DEPTH)

    # MatrizC1: Saliente-Extruir2 ×25 about axis
    matrizc1_axis = Axis((0, 0, 0), (1, 0, 0))
    for i in range(1, MATRIZC1_COUNT):
        add(saliente_extruir2.rotate(matrizc1_axis, i * 360 / MATRIZC1_COUNT))

    # Croquis5 → Saliente-Extruir3 (add)
    with BuildSketch(Plane.ZY):
        with Locations(Location((0, 0, 0), (0, 0, 180))):
            Circle(CROQUIS5_R)
        Circle(CROQUIS5_R_2, mode=Mode.SUBTRACT)
    extrude(amount=SALIENTE_EXTRUIR3_DEPTH)

    # Croquis6 → Cortar-Extruir4 (cut)
    with BuildSketch(Plane.ZY.offset(2)):
        Circle(CROQUIS6_R)
    extrude(amount=-CORTAR_EXTRUIR4_DEPTH, mode=Mode.SUBTRACT)


solid = part.part
